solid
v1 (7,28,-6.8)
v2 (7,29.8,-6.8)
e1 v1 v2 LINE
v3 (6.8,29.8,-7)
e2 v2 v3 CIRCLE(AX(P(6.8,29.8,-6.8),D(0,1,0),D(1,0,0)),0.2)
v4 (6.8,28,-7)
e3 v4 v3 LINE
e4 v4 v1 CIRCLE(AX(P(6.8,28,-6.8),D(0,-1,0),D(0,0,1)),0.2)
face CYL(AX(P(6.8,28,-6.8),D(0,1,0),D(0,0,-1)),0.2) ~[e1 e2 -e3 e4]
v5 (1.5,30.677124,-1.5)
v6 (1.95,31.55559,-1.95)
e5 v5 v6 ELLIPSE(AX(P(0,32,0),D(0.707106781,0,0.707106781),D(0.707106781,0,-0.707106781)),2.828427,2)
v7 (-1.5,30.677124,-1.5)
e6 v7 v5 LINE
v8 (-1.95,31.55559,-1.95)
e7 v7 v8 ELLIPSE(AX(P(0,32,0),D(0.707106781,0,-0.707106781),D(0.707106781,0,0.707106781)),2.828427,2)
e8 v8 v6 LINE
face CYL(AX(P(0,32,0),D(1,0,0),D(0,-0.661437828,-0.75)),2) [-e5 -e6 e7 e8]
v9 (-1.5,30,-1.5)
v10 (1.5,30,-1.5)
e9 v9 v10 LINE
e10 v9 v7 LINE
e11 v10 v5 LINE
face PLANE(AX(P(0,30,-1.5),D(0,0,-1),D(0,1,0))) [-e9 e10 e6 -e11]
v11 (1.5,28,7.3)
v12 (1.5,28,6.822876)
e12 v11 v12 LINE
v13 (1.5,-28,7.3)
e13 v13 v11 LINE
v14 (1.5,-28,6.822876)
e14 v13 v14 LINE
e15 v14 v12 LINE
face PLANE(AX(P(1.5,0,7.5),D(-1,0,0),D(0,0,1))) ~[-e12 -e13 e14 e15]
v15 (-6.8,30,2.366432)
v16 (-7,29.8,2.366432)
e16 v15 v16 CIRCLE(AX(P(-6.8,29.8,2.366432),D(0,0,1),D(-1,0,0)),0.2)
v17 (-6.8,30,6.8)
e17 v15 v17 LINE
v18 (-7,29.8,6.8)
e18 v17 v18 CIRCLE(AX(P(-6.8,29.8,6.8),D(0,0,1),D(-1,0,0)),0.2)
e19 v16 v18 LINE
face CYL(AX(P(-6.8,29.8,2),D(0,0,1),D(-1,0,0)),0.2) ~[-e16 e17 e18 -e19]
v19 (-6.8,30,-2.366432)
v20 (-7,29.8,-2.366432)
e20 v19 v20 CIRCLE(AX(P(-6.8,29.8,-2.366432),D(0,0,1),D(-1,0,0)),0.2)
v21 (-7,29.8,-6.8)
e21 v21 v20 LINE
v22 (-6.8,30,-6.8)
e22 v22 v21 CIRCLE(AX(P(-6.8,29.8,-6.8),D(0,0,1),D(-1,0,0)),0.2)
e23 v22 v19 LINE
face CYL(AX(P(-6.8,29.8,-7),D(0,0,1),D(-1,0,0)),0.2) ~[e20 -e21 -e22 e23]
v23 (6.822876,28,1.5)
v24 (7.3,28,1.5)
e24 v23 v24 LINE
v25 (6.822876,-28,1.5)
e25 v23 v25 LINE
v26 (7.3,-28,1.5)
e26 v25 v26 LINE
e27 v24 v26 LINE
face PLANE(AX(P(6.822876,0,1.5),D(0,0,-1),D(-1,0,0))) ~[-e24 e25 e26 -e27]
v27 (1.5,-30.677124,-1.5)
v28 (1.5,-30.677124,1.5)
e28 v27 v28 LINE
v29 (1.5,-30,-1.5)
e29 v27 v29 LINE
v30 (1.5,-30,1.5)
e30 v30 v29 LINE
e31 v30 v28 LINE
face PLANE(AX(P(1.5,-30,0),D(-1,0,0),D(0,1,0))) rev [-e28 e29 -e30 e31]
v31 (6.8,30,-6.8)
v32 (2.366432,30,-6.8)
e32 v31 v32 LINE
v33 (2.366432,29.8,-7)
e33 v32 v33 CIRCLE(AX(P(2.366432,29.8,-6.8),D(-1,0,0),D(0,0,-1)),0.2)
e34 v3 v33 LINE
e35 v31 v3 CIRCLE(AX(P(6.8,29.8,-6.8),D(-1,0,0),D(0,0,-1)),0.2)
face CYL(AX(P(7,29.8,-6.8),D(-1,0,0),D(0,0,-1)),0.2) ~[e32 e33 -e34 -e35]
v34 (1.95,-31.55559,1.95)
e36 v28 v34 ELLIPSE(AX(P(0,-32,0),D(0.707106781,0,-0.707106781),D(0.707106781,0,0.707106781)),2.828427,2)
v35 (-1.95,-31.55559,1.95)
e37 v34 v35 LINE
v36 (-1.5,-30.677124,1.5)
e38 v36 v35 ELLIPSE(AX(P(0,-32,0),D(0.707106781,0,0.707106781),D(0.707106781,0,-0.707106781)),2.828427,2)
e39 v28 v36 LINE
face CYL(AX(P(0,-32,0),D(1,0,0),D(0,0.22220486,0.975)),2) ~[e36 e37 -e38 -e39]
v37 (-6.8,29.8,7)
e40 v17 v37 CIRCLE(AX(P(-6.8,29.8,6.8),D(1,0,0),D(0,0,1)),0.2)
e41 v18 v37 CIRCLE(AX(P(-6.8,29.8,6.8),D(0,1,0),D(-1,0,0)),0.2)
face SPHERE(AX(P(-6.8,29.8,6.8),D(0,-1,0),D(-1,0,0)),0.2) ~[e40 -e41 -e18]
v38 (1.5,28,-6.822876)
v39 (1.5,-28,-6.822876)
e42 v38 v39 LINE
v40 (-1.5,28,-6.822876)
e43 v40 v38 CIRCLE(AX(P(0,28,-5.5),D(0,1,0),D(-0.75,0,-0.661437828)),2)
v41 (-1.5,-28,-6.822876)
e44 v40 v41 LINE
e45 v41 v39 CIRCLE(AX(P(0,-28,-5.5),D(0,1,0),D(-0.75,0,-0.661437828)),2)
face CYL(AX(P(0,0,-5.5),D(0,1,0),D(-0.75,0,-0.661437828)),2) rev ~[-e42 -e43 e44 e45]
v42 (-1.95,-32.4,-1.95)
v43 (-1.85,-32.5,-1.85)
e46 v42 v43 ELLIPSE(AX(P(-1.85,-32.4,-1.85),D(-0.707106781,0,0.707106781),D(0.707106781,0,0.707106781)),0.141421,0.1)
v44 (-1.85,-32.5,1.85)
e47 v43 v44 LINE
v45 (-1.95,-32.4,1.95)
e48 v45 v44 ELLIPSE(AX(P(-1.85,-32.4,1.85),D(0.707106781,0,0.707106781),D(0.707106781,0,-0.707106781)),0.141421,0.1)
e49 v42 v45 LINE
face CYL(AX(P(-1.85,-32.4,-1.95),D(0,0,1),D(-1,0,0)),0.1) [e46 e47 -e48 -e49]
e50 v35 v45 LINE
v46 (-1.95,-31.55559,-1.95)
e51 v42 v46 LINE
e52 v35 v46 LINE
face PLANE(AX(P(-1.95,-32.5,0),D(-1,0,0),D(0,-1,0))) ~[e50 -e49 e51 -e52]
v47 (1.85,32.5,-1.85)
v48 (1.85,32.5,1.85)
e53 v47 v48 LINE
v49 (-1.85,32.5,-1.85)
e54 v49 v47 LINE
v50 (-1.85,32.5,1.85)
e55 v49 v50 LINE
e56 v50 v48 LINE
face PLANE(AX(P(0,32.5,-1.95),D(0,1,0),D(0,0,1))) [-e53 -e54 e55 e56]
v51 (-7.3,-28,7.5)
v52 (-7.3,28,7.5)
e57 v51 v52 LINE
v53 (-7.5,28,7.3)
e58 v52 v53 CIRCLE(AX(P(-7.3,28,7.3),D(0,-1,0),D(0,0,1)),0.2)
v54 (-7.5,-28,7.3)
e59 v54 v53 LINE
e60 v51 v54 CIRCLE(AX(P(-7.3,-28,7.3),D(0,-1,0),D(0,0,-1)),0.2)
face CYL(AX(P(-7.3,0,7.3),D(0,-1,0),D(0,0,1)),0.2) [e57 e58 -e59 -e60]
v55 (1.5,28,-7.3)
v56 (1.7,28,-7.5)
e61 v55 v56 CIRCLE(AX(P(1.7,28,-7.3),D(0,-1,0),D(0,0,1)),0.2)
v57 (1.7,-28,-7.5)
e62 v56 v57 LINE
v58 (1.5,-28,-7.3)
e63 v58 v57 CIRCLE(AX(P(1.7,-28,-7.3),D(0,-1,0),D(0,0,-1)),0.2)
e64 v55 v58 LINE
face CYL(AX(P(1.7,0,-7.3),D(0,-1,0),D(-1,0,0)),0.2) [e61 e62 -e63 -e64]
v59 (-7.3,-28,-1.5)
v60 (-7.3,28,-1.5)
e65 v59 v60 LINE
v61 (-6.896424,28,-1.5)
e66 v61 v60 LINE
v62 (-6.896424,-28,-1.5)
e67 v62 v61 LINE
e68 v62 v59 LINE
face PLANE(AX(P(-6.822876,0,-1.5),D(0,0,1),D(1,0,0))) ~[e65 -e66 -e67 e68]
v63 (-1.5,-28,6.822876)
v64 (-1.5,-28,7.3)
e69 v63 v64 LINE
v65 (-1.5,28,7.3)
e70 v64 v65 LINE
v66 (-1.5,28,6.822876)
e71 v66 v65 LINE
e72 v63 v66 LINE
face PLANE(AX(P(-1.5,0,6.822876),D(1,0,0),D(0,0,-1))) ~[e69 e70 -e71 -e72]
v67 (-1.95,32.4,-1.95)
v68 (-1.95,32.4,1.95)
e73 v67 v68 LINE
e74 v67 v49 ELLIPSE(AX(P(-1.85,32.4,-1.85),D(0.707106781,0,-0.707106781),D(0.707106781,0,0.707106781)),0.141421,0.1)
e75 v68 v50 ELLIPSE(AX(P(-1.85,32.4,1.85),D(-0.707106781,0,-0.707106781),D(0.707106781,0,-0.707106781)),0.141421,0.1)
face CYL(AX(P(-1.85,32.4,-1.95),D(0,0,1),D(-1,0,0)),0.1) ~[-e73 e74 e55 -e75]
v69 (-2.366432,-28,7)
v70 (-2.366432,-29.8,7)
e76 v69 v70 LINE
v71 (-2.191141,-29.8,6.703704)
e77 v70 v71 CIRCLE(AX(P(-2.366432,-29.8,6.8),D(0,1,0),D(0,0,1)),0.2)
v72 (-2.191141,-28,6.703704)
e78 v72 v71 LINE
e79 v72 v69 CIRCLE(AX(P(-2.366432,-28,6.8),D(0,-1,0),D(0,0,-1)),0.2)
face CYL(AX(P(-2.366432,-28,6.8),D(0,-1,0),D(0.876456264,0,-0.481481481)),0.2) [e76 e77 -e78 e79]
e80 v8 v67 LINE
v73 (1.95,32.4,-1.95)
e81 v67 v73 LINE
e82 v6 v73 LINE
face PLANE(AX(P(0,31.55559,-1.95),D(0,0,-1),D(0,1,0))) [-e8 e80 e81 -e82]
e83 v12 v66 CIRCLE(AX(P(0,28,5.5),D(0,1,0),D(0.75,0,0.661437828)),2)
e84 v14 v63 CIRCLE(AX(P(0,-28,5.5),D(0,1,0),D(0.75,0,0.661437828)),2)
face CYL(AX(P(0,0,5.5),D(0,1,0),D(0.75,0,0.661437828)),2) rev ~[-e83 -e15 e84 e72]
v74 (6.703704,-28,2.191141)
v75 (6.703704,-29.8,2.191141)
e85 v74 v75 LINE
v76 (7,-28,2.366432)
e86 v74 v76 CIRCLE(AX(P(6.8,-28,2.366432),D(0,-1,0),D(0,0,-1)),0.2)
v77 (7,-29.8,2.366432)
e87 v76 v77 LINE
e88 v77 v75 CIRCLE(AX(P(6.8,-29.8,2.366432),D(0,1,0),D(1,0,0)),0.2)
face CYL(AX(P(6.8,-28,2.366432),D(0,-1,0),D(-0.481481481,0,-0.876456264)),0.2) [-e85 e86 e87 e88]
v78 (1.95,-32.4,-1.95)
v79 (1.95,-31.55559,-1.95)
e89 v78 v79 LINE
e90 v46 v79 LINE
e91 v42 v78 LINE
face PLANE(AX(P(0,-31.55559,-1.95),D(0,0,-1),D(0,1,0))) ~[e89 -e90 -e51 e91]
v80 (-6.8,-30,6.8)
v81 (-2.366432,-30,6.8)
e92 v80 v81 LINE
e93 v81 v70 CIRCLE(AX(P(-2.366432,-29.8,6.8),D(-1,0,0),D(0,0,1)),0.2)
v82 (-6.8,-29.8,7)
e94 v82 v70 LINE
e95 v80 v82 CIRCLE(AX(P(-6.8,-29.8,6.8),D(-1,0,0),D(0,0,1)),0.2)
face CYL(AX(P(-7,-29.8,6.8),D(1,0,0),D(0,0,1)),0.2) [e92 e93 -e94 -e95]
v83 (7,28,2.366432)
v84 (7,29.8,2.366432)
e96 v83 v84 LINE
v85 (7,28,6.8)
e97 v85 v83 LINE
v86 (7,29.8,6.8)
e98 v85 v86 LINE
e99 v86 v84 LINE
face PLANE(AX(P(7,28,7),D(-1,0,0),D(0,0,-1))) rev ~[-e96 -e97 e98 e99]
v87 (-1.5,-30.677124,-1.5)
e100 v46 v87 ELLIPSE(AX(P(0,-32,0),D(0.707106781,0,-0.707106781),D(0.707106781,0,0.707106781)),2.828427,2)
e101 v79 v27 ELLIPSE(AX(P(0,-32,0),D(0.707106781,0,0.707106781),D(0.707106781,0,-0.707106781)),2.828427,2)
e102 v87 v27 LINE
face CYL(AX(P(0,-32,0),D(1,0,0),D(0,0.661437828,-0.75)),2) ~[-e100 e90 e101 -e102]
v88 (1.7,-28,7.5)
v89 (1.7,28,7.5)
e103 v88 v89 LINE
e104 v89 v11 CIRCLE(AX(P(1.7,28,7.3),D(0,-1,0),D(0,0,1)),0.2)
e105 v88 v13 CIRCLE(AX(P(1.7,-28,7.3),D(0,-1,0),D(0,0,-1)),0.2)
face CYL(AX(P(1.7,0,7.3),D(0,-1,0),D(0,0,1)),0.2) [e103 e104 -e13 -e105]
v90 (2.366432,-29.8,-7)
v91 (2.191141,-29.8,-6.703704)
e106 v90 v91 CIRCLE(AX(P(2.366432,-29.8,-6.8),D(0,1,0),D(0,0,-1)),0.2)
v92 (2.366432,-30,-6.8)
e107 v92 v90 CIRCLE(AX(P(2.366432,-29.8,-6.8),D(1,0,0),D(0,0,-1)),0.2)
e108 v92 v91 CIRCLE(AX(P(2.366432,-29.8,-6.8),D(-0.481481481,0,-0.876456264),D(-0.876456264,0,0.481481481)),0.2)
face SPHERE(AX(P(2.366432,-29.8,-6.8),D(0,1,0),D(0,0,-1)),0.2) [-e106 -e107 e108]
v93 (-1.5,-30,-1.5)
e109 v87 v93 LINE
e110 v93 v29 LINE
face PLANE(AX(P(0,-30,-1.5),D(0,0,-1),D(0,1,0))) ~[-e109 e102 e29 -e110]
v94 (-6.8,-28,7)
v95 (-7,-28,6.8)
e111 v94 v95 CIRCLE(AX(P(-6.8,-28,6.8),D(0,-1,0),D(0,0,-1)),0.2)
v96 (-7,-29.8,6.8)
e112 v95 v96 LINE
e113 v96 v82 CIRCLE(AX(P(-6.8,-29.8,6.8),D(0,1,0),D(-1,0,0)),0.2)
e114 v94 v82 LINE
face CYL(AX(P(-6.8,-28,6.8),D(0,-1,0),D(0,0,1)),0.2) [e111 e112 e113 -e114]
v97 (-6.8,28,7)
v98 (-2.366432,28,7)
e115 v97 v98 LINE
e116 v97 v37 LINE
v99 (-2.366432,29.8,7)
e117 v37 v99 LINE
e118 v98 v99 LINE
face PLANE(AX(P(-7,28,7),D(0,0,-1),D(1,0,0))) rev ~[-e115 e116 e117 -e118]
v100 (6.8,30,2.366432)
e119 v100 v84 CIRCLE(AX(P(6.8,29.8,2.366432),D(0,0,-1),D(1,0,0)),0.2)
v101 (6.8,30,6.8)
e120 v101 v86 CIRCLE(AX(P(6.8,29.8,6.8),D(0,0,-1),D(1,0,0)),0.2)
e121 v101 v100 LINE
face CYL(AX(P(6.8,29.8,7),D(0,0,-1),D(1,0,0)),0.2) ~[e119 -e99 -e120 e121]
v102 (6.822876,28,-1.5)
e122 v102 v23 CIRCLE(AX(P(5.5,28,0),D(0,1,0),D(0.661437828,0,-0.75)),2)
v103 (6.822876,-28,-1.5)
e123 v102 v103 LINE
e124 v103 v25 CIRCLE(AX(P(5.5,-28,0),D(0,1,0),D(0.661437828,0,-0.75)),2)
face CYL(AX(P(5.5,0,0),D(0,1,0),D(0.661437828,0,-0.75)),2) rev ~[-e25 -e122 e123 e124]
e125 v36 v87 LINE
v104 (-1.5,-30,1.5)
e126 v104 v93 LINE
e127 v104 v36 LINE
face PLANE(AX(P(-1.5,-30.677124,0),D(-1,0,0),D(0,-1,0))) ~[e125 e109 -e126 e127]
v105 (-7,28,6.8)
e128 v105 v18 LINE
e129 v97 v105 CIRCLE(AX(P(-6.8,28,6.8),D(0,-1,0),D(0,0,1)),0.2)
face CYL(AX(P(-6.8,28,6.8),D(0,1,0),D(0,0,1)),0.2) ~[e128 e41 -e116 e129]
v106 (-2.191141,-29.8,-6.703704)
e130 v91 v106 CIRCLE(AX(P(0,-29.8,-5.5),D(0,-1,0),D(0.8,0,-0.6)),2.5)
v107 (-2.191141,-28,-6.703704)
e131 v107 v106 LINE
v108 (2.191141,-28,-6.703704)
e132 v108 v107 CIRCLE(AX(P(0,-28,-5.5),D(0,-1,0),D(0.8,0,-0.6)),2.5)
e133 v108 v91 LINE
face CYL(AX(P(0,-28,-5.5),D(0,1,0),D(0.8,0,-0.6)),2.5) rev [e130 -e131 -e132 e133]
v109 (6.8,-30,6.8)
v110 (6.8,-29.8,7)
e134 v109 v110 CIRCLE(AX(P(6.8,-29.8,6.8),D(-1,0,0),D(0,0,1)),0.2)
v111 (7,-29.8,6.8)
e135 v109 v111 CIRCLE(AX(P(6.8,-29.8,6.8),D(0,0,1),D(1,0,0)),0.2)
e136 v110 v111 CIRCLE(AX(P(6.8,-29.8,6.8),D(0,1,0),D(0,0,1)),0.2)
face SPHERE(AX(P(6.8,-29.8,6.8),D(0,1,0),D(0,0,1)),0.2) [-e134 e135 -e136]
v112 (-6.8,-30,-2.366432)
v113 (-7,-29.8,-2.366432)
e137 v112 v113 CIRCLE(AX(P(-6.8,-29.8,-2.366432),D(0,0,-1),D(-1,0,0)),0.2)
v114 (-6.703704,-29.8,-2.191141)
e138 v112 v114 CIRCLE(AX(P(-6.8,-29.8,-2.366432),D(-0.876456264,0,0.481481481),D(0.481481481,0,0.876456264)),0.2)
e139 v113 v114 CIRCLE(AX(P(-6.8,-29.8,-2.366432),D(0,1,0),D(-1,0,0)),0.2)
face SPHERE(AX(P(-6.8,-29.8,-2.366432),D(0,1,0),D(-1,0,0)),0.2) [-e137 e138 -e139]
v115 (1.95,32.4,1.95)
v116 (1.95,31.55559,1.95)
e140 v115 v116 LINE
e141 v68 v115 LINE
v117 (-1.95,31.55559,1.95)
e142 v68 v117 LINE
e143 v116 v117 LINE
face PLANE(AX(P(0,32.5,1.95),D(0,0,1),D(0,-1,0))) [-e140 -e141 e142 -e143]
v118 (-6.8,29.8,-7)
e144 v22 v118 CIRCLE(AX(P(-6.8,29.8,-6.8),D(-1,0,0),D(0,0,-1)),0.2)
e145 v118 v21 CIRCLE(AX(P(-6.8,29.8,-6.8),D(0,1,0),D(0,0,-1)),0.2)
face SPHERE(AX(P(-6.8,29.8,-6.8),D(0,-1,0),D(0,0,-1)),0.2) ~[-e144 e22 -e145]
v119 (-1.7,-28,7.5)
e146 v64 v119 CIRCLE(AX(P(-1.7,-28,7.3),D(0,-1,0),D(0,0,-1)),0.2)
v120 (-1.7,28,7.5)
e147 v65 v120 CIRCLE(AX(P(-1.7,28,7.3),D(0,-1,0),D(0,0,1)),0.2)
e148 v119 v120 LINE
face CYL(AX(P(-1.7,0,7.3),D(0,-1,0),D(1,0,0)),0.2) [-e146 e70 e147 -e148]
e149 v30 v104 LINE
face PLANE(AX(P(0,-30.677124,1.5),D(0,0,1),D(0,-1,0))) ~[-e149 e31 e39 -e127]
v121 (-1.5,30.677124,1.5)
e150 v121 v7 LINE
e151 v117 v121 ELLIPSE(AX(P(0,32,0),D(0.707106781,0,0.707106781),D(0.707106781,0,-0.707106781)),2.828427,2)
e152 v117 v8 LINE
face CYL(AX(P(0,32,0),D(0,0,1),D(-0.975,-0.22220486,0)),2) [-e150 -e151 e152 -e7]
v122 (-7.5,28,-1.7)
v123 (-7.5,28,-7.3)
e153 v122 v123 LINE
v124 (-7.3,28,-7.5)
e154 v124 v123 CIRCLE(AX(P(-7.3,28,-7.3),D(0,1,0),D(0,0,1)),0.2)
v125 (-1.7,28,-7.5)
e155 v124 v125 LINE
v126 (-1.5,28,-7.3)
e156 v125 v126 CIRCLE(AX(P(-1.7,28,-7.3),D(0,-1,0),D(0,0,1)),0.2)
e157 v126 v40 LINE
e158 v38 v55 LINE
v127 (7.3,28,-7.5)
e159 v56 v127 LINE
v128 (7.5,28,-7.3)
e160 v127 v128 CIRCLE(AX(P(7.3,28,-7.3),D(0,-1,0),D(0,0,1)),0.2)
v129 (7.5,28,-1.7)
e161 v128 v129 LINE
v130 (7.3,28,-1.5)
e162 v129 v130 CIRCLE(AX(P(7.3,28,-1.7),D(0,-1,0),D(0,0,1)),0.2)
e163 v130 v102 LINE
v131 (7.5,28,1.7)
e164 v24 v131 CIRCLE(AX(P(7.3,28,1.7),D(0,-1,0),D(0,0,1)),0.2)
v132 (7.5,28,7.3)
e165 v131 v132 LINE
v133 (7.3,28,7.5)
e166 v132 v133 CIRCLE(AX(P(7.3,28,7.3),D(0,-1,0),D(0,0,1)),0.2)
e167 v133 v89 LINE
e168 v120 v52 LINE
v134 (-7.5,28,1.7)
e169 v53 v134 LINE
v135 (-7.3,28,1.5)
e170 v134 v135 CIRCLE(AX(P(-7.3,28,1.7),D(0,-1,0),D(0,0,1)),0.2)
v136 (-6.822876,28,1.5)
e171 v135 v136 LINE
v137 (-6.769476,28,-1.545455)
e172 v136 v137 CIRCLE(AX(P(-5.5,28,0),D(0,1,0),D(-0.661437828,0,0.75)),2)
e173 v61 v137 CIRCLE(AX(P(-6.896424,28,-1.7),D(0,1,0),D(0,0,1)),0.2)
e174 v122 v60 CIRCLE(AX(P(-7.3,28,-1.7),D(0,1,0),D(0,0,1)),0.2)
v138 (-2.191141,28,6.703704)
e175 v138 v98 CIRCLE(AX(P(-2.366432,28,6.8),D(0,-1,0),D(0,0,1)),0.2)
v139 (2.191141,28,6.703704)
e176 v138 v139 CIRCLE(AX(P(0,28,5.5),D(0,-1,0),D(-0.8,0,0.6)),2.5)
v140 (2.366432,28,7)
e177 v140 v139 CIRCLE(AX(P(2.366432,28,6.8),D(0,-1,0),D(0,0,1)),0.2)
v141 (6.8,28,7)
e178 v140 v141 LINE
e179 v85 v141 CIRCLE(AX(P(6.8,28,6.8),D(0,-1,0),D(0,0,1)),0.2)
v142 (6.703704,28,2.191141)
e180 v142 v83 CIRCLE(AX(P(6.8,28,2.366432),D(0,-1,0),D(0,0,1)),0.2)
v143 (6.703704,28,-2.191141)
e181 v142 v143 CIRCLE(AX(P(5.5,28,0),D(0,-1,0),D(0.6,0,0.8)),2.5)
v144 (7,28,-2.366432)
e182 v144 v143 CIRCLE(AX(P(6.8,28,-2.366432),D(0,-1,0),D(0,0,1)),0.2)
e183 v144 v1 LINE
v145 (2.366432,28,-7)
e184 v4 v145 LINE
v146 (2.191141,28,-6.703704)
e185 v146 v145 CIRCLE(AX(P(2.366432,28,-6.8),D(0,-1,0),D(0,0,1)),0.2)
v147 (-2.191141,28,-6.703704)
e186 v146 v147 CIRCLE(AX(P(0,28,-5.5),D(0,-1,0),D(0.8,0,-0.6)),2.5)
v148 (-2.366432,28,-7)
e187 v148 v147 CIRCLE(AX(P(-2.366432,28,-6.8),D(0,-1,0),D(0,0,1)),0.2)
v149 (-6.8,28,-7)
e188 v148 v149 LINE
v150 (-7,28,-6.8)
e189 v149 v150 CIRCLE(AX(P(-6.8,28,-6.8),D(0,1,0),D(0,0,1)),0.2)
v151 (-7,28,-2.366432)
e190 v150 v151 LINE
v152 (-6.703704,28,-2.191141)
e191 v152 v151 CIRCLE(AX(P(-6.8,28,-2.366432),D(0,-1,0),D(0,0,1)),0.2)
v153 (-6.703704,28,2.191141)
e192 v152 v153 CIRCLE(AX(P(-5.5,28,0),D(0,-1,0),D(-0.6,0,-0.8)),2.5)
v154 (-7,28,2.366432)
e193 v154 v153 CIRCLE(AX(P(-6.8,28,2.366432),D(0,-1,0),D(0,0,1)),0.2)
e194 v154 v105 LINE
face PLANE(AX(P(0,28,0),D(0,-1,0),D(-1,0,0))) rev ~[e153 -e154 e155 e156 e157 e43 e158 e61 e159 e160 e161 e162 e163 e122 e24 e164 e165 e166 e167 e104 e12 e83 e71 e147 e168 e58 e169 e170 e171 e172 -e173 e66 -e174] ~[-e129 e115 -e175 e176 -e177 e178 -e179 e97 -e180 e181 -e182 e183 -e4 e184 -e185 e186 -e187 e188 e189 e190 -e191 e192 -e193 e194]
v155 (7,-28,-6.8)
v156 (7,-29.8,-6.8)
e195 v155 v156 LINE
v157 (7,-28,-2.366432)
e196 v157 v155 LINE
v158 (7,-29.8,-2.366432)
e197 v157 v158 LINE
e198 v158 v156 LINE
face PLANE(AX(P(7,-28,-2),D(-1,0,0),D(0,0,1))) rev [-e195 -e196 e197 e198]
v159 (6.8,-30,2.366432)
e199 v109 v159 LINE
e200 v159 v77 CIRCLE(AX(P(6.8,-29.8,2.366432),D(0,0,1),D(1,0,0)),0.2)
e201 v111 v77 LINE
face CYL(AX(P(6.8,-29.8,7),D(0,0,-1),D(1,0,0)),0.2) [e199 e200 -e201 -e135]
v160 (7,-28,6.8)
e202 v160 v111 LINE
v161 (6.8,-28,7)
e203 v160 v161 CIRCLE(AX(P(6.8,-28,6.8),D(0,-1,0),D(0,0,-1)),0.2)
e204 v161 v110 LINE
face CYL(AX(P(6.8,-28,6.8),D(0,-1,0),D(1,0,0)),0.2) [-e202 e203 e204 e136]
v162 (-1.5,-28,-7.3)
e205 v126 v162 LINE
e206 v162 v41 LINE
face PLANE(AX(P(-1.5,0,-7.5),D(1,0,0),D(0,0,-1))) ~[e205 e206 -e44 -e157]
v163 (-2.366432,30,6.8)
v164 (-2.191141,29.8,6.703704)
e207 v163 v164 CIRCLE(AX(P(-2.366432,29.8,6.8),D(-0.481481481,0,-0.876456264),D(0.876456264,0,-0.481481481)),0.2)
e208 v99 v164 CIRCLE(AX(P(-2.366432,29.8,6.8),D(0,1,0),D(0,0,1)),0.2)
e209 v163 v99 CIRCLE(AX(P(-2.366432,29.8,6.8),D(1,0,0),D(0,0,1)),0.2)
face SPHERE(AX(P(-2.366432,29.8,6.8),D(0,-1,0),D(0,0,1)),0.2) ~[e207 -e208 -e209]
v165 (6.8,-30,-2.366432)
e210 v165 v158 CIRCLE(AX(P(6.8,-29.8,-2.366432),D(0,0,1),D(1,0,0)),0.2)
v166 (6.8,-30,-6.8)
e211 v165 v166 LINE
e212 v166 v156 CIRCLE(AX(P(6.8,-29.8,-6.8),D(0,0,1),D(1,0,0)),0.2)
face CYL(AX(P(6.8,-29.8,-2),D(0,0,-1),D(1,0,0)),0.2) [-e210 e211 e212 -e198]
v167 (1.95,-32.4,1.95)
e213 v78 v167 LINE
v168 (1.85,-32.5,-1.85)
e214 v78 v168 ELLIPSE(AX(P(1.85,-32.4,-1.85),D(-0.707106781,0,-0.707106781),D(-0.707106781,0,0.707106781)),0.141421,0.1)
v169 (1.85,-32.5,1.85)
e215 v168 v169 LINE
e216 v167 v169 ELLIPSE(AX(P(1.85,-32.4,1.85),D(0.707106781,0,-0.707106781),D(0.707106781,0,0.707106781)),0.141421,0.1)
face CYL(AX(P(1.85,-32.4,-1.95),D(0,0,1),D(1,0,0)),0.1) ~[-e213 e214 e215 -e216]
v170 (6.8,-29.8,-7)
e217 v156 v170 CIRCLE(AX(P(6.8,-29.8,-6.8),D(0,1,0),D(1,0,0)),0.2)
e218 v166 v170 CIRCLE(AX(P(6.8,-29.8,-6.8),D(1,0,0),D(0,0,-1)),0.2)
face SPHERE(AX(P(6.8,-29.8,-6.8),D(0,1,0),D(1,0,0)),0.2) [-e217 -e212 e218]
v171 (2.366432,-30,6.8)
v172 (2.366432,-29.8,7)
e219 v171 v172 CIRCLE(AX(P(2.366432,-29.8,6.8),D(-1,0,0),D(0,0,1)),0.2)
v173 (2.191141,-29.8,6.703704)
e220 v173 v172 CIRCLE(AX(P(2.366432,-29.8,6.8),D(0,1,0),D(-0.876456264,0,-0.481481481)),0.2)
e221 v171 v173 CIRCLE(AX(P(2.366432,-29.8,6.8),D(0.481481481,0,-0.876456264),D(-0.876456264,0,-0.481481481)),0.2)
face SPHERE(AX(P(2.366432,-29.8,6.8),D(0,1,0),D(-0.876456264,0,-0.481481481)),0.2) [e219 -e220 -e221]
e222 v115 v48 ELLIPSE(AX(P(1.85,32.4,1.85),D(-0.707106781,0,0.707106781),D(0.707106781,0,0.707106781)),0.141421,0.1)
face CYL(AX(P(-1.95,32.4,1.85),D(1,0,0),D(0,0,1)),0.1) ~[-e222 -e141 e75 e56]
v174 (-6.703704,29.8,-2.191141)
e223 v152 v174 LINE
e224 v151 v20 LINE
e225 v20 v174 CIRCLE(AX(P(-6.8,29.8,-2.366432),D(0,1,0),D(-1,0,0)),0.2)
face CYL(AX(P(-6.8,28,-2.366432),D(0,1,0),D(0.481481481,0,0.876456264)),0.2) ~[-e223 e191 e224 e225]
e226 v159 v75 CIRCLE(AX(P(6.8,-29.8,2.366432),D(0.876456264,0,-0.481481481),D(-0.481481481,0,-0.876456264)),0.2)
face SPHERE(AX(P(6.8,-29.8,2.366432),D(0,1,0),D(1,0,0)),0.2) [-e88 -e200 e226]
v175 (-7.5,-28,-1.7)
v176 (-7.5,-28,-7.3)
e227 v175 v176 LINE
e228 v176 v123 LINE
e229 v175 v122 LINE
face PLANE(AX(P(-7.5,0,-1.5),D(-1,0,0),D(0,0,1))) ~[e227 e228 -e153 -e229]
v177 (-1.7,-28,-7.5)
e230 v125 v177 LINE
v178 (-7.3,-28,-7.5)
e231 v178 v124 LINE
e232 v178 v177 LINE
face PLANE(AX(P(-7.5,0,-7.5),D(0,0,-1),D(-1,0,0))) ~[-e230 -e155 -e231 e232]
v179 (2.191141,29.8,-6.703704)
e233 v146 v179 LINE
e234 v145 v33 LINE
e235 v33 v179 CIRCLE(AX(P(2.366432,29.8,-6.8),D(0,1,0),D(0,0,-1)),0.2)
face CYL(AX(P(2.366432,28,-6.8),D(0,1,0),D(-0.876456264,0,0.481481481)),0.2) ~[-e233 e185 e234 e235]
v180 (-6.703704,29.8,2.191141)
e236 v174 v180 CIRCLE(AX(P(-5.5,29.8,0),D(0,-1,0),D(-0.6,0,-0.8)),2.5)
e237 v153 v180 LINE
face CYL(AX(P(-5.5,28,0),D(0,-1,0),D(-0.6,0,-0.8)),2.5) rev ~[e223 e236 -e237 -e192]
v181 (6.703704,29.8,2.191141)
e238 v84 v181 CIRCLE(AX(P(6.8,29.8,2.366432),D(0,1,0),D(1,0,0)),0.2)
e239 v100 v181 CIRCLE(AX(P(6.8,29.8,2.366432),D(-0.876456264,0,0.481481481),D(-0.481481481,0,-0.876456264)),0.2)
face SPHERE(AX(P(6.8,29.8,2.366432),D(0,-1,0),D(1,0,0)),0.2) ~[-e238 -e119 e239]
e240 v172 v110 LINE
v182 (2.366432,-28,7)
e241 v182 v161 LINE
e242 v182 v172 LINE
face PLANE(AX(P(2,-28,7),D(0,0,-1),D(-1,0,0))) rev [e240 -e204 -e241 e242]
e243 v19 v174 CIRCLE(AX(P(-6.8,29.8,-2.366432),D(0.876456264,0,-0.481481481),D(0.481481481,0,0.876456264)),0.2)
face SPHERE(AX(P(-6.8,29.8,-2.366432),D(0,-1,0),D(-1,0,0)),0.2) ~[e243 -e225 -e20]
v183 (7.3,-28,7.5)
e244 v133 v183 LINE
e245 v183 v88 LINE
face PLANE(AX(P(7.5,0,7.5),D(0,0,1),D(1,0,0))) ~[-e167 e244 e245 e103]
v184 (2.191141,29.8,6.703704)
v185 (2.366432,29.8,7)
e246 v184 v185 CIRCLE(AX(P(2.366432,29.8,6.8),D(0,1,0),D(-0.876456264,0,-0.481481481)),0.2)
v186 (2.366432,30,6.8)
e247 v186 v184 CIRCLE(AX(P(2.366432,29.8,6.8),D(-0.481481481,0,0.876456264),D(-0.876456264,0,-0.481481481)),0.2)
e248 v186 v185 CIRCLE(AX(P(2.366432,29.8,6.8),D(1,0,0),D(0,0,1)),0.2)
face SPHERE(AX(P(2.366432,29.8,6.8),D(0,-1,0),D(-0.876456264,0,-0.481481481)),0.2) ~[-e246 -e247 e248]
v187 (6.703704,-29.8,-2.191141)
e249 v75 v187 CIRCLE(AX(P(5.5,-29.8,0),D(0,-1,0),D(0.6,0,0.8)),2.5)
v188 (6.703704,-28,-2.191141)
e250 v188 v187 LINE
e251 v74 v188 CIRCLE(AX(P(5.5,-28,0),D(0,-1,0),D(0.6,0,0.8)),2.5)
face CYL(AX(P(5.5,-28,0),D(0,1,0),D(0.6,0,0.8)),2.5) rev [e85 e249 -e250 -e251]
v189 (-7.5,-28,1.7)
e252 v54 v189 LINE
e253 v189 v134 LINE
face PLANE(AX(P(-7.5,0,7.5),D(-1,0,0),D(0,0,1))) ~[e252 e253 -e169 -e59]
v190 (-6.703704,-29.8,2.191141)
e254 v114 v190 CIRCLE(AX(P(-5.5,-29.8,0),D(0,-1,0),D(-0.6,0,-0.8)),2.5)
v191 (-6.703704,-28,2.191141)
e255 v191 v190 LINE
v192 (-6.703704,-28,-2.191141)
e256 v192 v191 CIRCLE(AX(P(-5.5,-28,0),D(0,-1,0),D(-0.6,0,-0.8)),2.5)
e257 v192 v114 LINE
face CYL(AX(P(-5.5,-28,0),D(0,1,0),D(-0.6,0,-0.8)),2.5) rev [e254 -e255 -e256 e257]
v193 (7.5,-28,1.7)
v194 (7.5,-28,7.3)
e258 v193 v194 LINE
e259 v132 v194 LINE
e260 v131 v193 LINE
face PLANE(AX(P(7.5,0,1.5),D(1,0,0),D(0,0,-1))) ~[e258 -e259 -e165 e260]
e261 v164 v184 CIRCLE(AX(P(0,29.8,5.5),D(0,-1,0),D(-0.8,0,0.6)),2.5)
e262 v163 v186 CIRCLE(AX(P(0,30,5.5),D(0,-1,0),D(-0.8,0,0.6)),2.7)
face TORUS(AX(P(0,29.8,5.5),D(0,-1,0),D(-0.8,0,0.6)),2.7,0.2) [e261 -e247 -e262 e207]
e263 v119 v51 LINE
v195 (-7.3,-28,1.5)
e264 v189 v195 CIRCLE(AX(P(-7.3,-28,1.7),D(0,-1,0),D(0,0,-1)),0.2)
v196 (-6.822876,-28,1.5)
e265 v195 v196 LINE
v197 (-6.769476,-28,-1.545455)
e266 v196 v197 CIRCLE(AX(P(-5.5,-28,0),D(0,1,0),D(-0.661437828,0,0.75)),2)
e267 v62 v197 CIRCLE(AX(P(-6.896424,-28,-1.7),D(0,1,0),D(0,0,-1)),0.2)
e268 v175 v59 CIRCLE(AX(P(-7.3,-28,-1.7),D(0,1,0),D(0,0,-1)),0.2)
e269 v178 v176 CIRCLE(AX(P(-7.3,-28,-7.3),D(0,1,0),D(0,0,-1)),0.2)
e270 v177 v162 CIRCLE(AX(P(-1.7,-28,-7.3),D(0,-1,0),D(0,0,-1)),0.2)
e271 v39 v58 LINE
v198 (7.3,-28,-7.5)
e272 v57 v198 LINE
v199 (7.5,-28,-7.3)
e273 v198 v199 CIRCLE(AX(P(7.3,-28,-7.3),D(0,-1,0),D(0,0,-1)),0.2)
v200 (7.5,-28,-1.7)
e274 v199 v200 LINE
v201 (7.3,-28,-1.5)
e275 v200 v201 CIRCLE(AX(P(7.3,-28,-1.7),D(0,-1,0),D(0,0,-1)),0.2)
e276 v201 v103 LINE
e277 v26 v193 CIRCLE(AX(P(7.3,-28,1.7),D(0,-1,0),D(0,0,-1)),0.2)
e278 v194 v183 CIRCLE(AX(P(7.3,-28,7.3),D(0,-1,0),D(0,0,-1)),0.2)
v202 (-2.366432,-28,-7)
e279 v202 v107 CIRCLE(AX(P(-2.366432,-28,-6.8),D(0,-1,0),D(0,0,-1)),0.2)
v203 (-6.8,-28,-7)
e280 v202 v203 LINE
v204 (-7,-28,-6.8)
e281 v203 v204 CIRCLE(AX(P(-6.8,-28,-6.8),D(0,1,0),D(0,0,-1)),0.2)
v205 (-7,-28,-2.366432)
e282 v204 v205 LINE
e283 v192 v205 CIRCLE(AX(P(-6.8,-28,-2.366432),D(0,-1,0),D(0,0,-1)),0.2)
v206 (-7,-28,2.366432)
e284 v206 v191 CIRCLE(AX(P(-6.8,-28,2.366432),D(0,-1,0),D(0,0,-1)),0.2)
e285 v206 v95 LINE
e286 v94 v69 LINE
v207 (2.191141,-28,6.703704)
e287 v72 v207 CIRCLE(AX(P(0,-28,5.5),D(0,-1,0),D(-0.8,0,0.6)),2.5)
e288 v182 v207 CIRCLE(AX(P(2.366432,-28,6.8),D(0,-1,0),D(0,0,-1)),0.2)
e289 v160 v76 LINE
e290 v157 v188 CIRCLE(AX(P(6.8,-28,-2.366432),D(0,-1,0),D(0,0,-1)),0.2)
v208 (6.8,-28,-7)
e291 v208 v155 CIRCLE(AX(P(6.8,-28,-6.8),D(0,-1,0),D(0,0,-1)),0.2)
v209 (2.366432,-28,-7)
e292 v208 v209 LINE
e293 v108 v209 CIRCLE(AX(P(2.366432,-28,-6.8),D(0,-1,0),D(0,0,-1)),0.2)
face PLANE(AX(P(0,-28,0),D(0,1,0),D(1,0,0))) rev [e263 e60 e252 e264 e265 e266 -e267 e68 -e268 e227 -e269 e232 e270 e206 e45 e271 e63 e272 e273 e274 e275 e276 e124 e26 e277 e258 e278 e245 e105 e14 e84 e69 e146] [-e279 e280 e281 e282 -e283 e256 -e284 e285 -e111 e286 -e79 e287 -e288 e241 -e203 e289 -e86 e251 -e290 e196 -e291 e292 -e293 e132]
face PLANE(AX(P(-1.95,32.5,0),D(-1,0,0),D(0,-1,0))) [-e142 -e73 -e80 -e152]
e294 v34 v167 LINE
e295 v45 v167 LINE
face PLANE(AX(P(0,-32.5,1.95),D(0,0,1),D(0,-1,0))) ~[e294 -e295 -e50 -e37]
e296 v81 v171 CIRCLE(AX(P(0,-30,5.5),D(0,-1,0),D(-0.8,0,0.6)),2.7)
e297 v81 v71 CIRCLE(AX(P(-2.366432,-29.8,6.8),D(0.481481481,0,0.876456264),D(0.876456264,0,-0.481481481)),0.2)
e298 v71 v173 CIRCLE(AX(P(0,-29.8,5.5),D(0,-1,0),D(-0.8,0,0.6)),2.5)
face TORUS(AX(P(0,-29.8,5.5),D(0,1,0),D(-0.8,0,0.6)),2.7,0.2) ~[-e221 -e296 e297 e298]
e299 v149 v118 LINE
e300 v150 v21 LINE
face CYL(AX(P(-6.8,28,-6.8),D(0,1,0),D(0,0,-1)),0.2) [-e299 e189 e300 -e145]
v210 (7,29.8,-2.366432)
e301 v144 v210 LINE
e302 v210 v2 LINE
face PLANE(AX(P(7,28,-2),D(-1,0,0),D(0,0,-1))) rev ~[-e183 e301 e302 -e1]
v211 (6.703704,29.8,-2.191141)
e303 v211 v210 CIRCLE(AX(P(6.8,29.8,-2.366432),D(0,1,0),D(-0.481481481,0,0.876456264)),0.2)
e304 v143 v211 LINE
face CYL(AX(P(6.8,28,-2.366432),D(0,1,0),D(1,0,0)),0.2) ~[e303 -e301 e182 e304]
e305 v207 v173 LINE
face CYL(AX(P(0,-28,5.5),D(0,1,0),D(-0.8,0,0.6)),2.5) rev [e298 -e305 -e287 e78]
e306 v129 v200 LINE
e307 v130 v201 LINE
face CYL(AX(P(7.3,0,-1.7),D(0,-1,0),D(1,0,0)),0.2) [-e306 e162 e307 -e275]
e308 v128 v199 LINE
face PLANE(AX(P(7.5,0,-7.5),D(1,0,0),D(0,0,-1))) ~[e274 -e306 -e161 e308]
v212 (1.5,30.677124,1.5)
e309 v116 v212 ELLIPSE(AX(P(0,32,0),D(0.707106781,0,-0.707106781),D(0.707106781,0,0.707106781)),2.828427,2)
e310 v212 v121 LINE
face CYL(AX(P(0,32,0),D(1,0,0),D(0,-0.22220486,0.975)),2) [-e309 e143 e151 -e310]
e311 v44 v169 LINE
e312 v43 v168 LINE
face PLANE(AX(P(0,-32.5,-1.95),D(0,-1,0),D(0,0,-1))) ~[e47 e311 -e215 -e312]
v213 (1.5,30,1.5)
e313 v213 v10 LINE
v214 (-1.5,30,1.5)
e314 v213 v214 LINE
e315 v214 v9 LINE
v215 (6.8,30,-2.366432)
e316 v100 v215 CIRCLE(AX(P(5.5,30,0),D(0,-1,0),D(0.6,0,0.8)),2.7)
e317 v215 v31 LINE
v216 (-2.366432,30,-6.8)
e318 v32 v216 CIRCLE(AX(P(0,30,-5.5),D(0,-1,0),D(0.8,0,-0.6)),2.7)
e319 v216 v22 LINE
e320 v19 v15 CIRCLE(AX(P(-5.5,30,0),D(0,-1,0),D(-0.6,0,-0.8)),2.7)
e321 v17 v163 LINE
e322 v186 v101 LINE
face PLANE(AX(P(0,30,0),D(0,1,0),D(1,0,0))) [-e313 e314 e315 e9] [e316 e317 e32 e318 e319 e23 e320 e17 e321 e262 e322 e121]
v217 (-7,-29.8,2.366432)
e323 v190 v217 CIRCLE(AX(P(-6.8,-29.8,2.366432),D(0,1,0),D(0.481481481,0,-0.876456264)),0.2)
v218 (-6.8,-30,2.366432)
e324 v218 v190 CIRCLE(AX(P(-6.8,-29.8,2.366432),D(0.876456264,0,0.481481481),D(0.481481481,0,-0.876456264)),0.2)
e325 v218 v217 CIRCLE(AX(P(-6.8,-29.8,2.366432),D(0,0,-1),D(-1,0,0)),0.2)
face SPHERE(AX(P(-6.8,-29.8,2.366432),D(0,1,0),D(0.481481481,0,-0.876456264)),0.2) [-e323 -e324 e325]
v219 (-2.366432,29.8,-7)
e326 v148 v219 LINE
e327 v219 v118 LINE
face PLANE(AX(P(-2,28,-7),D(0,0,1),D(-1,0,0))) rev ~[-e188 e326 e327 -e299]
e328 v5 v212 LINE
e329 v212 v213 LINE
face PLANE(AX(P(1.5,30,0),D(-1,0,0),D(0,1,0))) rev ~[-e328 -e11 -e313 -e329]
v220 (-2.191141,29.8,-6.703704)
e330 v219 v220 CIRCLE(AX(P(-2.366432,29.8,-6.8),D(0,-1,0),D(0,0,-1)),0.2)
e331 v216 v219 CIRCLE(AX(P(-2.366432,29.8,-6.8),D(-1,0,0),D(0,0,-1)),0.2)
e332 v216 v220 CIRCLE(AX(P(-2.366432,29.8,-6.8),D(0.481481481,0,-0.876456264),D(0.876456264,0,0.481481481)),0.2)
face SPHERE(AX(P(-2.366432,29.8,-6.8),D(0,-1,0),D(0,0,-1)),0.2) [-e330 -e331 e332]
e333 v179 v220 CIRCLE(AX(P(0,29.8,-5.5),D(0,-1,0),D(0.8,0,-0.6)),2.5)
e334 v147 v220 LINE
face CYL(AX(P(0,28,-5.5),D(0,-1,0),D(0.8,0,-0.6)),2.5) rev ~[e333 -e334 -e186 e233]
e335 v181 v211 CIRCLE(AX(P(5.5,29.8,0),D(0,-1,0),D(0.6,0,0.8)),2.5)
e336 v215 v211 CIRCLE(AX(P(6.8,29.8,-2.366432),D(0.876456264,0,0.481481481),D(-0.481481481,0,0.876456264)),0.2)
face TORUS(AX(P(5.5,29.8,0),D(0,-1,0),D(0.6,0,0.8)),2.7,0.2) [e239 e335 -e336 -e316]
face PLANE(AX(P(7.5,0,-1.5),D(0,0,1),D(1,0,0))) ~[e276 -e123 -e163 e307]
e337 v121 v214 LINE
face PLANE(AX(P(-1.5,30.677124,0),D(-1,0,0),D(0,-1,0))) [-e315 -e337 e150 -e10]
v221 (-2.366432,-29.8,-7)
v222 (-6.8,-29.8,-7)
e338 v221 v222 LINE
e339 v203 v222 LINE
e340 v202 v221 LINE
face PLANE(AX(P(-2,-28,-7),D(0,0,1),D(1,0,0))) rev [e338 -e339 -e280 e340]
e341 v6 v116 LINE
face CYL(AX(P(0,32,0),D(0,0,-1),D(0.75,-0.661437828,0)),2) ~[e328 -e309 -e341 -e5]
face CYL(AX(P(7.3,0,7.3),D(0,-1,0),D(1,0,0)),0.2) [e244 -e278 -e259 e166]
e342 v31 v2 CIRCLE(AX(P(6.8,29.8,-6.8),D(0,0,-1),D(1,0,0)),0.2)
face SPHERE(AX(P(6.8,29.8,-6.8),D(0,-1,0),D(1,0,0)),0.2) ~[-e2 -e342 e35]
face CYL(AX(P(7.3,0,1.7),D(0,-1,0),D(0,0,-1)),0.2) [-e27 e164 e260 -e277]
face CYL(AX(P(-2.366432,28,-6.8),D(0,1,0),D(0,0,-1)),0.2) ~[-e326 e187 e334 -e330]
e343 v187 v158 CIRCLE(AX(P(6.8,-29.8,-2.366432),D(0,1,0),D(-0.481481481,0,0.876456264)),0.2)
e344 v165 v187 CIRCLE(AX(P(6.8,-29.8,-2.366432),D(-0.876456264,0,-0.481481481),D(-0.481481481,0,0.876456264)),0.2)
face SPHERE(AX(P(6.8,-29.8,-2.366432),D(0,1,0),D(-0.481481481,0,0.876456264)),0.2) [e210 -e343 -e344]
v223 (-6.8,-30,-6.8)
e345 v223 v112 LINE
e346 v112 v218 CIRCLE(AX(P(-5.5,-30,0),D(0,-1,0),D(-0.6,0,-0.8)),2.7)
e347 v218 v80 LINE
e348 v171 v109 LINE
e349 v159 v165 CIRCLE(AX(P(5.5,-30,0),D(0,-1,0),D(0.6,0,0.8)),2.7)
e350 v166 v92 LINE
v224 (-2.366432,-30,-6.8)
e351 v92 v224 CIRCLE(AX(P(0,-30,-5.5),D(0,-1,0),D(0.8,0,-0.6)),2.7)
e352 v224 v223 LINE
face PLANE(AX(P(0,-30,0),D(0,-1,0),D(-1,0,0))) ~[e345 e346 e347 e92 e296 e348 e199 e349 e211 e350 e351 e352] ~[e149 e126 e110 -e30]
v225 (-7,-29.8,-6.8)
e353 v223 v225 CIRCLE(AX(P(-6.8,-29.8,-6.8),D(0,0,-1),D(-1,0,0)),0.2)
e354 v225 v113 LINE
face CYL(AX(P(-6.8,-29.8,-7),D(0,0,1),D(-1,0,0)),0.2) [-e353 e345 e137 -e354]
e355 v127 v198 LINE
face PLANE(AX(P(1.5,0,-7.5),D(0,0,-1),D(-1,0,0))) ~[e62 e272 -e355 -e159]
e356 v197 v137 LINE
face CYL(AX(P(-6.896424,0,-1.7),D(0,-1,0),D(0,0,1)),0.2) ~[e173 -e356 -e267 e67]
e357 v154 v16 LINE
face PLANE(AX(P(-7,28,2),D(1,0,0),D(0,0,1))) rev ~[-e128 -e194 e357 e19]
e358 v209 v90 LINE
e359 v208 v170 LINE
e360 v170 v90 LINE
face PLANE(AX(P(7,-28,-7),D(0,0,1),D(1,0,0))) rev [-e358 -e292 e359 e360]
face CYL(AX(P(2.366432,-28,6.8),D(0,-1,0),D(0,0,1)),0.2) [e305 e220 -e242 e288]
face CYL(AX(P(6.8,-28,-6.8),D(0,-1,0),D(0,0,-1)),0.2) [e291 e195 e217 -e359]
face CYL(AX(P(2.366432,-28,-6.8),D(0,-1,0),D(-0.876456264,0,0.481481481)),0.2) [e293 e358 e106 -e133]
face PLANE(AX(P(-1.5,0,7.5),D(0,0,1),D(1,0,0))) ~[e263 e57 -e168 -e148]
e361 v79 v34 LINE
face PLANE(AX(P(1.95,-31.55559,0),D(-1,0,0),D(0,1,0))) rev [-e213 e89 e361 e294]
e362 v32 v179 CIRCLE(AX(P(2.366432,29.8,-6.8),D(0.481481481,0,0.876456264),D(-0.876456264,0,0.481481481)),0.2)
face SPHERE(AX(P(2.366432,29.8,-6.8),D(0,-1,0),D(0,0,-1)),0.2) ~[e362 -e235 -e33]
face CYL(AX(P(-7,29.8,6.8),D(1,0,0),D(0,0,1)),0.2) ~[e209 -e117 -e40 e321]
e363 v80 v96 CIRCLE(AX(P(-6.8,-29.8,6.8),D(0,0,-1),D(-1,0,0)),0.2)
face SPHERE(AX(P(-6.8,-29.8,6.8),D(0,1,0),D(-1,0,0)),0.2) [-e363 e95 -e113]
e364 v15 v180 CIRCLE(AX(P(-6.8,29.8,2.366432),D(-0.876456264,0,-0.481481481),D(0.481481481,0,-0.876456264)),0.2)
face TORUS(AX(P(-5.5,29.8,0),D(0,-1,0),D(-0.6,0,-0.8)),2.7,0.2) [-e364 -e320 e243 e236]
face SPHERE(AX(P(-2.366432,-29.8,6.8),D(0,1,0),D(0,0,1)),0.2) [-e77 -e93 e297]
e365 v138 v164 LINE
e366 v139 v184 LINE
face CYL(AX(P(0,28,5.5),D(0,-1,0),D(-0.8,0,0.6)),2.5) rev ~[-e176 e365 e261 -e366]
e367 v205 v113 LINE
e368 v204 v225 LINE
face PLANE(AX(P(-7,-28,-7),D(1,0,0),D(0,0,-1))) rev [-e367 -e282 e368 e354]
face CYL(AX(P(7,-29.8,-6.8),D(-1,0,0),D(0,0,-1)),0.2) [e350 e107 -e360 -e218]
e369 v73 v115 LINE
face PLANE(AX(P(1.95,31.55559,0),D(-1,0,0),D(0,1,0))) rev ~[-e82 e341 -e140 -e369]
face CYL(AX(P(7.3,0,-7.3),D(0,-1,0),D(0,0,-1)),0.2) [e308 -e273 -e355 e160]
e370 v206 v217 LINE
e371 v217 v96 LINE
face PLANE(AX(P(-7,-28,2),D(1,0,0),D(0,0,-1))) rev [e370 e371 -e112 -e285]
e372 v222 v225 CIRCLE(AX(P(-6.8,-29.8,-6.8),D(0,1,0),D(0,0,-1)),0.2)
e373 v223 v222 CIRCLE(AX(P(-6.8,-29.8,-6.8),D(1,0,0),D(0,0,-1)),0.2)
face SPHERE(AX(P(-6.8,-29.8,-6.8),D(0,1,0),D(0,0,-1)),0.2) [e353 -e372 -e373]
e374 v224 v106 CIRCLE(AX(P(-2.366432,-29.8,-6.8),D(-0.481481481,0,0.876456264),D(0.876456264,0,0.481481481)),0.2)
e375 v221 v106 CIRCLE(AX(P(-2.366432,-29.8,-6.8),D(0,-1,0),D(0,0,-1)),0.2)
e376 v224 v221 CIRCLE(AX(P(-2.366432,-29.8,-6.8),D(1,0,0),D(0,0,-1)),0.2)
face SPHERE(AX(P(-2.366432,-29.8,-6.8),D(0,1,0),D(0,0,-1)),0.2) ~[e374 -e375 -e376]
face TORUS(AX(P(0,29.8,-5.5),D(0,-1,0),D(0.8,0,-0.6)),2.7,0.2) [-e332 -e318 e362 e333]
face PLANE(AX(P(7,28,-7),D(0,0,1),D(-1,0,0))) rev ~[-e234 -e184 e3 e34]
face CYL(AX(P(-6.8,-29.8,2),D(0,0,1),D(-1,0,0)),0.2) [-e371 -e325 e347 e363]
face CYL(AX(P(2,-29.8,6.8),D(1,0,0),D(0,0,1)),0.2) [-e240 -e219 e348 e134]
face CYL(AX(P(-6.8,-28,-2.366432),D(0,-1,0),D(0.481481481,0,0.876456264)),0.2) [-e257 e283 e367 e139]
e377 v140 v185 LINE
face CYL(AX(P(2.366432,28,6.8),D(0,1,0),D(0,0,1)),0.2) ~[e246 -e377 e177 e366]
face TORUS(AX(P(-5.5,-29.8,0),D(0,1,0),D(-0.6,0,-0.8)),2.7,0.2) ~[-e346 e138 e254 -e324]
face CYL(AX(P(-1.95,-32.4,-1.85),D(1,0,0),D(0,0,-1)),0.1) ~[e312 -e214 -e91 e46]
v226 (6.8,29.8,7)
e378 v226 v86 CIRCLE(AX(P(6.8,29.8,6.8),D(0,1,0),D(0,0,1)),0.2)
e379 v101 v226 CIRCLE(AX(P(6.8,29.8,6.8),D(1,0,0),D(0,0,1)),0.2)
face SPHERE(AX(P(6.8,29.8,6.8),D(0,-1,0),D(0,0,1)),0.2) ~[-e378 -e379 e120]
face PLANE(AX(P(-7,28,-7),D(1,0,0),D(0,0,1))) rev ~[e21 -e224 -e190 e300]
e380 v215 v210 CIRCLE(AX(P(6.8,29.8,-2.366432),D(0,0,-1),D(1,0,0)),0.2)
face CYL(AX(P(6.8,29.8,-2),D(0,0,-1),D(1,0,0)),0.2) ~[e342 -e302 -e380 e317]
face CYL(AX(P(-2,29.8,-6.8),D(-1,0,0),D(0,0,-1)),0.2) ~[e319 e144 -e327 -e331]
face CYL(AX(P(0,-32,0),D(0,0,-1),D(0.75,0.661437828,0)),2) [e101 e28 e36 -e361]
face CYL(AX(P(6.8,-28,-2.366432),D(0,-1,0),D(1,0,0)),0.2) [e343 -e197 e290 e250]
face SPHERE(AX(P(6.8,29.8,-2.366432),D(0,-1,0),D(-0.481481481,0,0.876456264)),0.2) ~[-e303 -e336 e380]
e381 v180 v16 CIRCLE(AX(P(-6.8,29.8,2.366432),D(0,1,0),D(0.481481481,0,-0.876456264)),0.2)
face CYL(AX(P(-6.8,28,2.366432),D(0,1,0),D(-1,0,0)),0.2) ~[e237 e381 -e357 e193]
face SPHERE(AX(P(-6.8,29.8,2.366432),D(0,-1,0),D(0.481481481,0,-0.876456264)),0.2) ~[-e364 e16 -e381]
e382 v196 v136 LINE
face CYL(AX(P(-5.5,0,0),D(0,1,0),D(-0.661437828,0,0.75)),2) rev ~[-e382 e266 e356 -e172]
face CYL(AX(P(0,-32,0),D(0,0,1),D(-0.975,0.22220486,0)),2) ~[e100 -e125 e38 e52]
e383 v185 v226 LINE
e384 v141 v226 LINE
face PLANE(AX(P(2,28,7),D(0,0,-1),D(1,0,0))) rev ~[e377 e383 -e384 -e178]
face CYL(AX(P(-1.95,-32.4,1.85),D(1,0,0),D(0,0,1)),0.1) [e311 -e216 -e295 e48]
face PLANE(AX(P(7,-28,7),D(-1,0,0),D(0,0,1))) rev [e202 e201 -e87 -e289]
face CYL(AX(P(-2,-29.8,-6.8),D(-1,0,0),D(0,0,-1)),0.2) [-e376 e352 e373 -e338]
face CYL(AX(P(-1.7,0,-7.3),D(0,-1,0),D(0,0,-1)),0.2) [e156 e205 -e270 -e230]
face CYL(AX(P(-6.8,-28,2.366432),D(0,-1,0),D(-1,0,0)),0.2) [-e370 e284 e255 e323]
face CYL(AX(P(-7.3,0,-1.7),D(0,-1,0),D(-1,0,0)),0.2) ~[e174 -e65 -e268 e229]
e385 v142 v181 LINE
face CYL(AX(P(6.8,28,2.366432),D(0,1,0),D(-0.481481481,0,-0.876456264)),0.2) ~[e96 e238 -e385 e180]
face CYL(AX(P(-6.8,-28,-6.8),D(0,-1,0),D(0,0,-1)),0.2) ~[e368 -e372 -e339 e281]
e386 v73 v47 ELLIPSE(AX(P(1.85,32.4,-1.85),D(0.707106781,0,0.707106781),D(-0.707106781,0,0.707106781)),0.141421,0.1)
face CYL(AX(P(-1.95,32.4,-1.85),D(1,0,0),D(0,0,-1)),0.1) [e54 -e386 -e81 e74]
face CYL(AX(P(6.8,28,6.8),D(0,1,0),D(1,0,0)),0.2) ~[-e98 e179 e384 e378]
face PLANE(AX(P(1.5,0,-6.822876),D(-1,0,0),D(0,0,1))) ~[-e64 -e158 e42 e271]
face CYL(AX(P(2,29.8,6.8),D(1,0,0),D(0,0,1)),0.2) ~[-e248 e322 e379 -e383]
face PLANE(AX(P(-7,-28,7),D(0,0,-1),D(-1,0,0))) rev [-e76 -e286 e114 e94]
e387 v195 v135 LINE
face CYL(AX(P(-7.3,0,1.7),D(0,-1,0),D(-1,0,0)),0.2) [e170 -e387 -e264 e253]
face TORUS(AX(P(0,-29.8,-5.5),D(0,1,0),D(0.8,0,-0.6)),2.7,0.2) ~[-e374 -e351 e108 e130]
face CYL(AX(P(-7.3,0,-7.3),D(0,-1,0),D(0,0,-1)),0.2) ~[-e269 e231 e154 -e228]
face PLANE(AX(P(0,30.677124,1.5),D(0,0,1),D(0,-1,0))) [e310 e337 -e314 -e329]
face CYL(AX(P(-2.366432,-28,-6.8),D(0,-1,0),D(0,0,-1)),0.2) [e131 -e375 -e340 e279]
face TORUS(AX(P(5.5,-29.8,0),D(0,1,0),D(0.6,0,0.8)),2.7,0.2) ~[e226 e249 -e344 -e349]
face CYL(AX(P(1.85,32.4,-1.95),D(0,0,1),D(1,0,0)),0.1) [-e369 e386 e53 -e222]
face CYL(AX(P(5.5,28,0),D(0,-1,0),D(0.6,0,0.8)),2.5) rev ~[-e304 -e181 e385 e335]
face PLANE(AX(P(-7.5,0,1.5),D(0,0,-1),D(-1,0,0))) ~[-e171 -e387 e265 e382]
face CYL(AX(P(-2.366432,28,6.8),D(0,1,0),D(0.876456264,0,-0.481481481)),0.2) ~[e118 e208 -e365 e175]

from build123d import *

# Parameters (mm, degrees)
EXTRUDE_1_DEPTH        = 28
EXTRUDE_2_DEPTH        = 2
EXTRUDE_3_DEPTH        = 2
FILLET_3_R             = 0.2
CUT_EXTRUDE_1_DEPTH    = 3
FILLET_4_R             = 0.2
FILLET_5_R             = 0.1
FILLET_3_OF_MIRROR_1_R = 0.2
FILLET_4_OF_MIRROR_1_R = 0.2
FILLET_5_OF_MIRROR_1_R = 0.1


with BuildPart() as part:
    # 草图1 → 凸台-拉伸1 (new body)
    with BuildSketch(Plane(origin=(0, 0, 0), x_dir=(1, 0, 0), z_dir=(0, 1, 0))):
        with BuildLine():
            Line((-7.5, 7.5), (-1.5, 7.5))
            Line((-1.5, 7.5), (-1.5, 6.822875656))
            ThreePointArc((-1.5, 6.822875656), (0, 3.5), (1.5, 6.822875656))
            Line((1.5, 6.822875656), (1.5, 7.5))
            Line((1.5, 7.5), (7.5, 7.5))
            Line((7.5, 7.5), (7.5, 1.5))
            Line((7.5, 1.5), (6.822875656, 1.5))
            ThreePointArc((6.822875656, 1.5), (3.5, 0), (6.822875656, -1.5))
            Line((6.822875656, -1.5), (7.5, -1.5))
            Line((7.5, -1.5), (7.5, -7.5))
            Line((7.5, -7.5), (1.5, -7.5))
            Line((1.5, -7.5), (1.5, -6.822875656))
            ThreePointArc((1.5, -6.822875656), (0, -3.5), (-1.5, -6.822875656))
            Line((-1.5, -6.822875656), (-1.5, -7.5))
            Line((-1.5, -7.5), (-7.5, -7.5))
            Line((-7.5, -7.5), (-7.5, -1.5))
            Line((-7.5, -1.5), (-6.822875656, -1.5))
            ThreePointArc((-6.822875656, -1.5), (-3.5, 0), (-6.822875656, 1.5))
            Line((-6.822875656, 1.5), (-7.5, 1.5))
            Line((-7.5, 1.5), (-7.5, 7.5))
        make_face()
    extrude_1 = extrude(amount=EXTRUDE_1_DEPTH)

    # 草图2 → 凸台-拉伸2 (add)
    with BuildSketch(Plane(origin=(0, 28, 0), x_dir=(1, 0, 0), z_dir=(0, 1, 0))):
        with BuildLine():
            Line((-7, 7), (-7, 2))
            ThreePointArc((-7, 2), (-3, 0), (-7, -2))
            Line((-7, -2), (-7, -7))
            Line((-7, -7), (-2, -7))
            ThreePointArc((-2, -7), (0, -3), (2, -7))
            Line((2, -7), (7, -7))
            Line((7, -7), (7, -2))
            ThreePointArc((7, -2), (3, 0), (7, 2))
            Line((7, 2), (7, 7))
            Line((7, 7), (2, 7))
            ThreePointArc((2, 7), (0, 3), (-2, 7))
            Line((-2, 7), (-7, 7))
        make_face()
    extrude_2 = extrude(amount=EXTRUDE_2_DEPTH)

    # 草图3 → 凸台-拉伸3 (add, symmetric)
    with BuildSketch(Plane(origin=(0, 0, 0), x_dir=(0, 0, -1), z_dir=(1, 0, 0))):
        with BuildLine():
            Line((-1.5, 30), (1.5, 30))
            Line((1.5, 30), (1.5, 30.677124344))
            ThreePointArc((1.5, 30.677124344), (1.780042303, 31.088161527), (1.95, 31.555590279))
            Line((1.95, 31.555590279), (1.95, 32.5))
            Line((1.95, 32.5), (-1.95, 32.5))
            Line((-1.95, 32.5), (-1.95, 31.555590279))
            ThreePointArc((-1.95, 31.555590279), (-1.780042303, 31.088161527), (-1.5, 30.677124344))
            Line((-1.5, 30.677124344), (-1.5, 30))
        make_face()
    extrude_3 = extrude(amount=EXTRUDE_3_DEPTH, both=True)

    # 圆角3
    fillet_3_edges = [part.edges().sort_by_distance(p)[0] for p in [
        (-7.5, 14, -7.5),
        (-1.5, 14, -7.5),
        (1.5, 14, -7.5),
        (7.5, 14, -7.5),
        (7.5, 14, -1.5),
        (7.5, 14, 1.5),
        (7.5, 14, 7.5),
        (1.5, 14, 7.5),
        (-1.5, 14, 7.5),
        (-7.5, 14, 7.5),
        (-7.5, 14, 1.5),
        (-6.822875656, 14, -1.5),
        (-7.5, 14, -1.5),
    ]]
    fillet(fillet_3_edges, radius=FILLET_3_R)

    # 草图4 → 切除-拉伸1 (cut, symmetric)
    with BuildSketch(Plane.XY):
        with BuildLine():
            Line((1.95, 32.5), (2, 32.5))
            Line((2, 32.5), (2, 30))
            Line((2, 30), (1.5, 30))
            Line((1.5, 30), (1.5, 30.677124344))
            ThreePointArc((1.5, 30.677124344), (1.780042303, 31.088161527), (1.95, 31.555590279))
            Line((1.95, 31.555590279), (1.95, 32.5))
        make_face()
        with BuildLine():
            Line((-1.95, 32.5), (-1.95, 31.555590279))
            ThreePointArc((-1.95, 31.555590279), (-1.780042303, 31.088161527), (-1.5, 30.677124344))
            Line((-1.5, 30.677124344), (-1.5, 30))
            Line((-1.5, 30), (-2, 30))
            Line((-2, 30), (-2, 32.5))
            Line((-2, 32.5), (-1.95, 32.5))
        make_face()
    cut_extrude_1 = extrude(amount=CUT_EXTRUDE_1_DEPTH, both=True, mode=Mode.SUBTRACT)

    # 圆角4
    fillet_4_edges = [part.edges().sort_by_distance(p)[0] for p in [
        (-2, 29, -7),
        (-7, 29, -7),
        (-7, 29, -2),
        (-7, 29, 2),
        (-7, 29, 7),
        (-2, 29, 7),
        (2, 29, 7),
        (7, 29, 7),
        (7, 29, 2),
        (7, 29, -2),
        (7, 29, -7),
        (2, 29, -7),
        (-4.5, 30, -7),
        (-7, 30, -4.5),
        (-3, 30, 0),
        (-7, 30, 4.5),
        (-4.5, 30, 7),
        (0, 30, 3),
        (4.5, 30, 7),
        (7, 30, 4.5),
        (3, 30, 0),
        (7, 30, -4.5),
        (4.5, 30, -7),
        (0, 30, -3),
    ]]
    fillet(fillet_4_edges, radius=FILLET_4_R)

    # 圆角5
    fillet_5_edges = [part.edges().sort_by_distance(p)[0] for p in [
        (1.95, 32.5, 0),
        (0, 32.5, -1.95),
        (0, 32.5, 1.95),
        (-1.95, 32.5, 0),
    ]]
    fillet(fillet_5_edges, radius=FILLET_5_R)


with BuildPart() as mirror_1_1:
    # 镜向1: 凸台-拉伸1, 凸台-拉伸2, 凸台-拉伸3 across Top Plane
    add(extrude_1.mirror(Plane(origin=(0, 0, 0), x_dir=(1, 0, 0), z_dir=(0, 1, 0))))
    add(extrude_2.mirror(Plane(origin=(0, 0, 0), x_dir=(1, 0, 0), z_dir=(0, 1, 0))))
    add(extrude_3.mirror(Plane(origin=(0, 0, 0), x_dir=(1, 0, 0), z_dir=(0, 1, 0))))

    # Mirror 1 2: 切除-拉伸1 across Top Plane
    add(cut_extrude_1.mirror(Plane(origin=(0, 0, 0), x_dir=(1, 0, 0), z_dir=(0, 1, 0))), mode=Mode.SUBTRACT)

    # 圆角3 of 镜向1
    fillet_3_of_mirror_1_edges = [mirror_1_1.edges().sort_by_distance(p)[0] for p in [
        (-7.5, -14, -7.5),
        (-1.5, -14, -7.5),
        (1.5, -14, -7.5),
        (7.5, -14, -7.5),
        (7.5, -14, -1.5),
        (7.5, -14, 1.5),
        (7.5, -14, 7.5),
        (1.5, -14, 7.5),
        (-1.5, -14, 7.5),
        (-7.5, -14, 7.5),
        (-7.5, -14, 1.5),
        (-6.822875656, -14, -1.5),
        (-7.5, -14, -1.5),
    ]]
    fillet(fillet_3_of_mirror_1_edges, radius=FILLET_3_OF_MIRROR_1_R)

    # 圆角4 of 镜向1
    fillet_4_of_mirror_1_edges = [mirror_1_1.edges().sort_by_distance(p)[0] for p in [
        (-2, -29, -7),
        (-7, -29, -7),
        (-7, -29, -2),
        (-7, -29, 2),
        (-7, -29, 7),
        (-2, -29, 7),
        (2, -29, 7),
        (7, -29, 7),
        (7, -29, 2),
        (7, -29, -2),
        (7, -29, -7),
        (2, -29, -7),
        (-4.5, -30, -7),
        (-7, -30, -4.5),
        (-3, -30, 0),
        (-7, -30, 4.5),
        (-4.5, -30, 7),
        (0, -30, 3),
        (4.5, -30, 7),
        (7, -30, 4.5),
        (3, -30, 0),
        (7, -30, -4.5),
        (4.5, -30, -7),
        (0, -30, -3),
    ]]
    fillet(fillet_4_of_mirror_1_edges, radius=FILLET_4_OF_MIRROR_1_R)

    # 圆角5 of 镜向1
    fillet_5_of_mirror_1_edges = [mirror_1_1.edges().sort_by_distance(p)[0] for p in [
        (1.95, -32.5, 0),
        (0, -32.5, -1.95),
        (0, -32.5, 1.95),
        (-1.95, -32.5, 0),
    ]]
    fillet(fillet_5_of_mirror_1_edges, radius=FILLET_5_OF_MIRROR_1_R)


with BuildPart() as part_1:
    add(part.part)

    # 镜向1 united with what the copies tou: union 镜向1_1
    add(mirror_1_1.part)


solid = part_1.part
